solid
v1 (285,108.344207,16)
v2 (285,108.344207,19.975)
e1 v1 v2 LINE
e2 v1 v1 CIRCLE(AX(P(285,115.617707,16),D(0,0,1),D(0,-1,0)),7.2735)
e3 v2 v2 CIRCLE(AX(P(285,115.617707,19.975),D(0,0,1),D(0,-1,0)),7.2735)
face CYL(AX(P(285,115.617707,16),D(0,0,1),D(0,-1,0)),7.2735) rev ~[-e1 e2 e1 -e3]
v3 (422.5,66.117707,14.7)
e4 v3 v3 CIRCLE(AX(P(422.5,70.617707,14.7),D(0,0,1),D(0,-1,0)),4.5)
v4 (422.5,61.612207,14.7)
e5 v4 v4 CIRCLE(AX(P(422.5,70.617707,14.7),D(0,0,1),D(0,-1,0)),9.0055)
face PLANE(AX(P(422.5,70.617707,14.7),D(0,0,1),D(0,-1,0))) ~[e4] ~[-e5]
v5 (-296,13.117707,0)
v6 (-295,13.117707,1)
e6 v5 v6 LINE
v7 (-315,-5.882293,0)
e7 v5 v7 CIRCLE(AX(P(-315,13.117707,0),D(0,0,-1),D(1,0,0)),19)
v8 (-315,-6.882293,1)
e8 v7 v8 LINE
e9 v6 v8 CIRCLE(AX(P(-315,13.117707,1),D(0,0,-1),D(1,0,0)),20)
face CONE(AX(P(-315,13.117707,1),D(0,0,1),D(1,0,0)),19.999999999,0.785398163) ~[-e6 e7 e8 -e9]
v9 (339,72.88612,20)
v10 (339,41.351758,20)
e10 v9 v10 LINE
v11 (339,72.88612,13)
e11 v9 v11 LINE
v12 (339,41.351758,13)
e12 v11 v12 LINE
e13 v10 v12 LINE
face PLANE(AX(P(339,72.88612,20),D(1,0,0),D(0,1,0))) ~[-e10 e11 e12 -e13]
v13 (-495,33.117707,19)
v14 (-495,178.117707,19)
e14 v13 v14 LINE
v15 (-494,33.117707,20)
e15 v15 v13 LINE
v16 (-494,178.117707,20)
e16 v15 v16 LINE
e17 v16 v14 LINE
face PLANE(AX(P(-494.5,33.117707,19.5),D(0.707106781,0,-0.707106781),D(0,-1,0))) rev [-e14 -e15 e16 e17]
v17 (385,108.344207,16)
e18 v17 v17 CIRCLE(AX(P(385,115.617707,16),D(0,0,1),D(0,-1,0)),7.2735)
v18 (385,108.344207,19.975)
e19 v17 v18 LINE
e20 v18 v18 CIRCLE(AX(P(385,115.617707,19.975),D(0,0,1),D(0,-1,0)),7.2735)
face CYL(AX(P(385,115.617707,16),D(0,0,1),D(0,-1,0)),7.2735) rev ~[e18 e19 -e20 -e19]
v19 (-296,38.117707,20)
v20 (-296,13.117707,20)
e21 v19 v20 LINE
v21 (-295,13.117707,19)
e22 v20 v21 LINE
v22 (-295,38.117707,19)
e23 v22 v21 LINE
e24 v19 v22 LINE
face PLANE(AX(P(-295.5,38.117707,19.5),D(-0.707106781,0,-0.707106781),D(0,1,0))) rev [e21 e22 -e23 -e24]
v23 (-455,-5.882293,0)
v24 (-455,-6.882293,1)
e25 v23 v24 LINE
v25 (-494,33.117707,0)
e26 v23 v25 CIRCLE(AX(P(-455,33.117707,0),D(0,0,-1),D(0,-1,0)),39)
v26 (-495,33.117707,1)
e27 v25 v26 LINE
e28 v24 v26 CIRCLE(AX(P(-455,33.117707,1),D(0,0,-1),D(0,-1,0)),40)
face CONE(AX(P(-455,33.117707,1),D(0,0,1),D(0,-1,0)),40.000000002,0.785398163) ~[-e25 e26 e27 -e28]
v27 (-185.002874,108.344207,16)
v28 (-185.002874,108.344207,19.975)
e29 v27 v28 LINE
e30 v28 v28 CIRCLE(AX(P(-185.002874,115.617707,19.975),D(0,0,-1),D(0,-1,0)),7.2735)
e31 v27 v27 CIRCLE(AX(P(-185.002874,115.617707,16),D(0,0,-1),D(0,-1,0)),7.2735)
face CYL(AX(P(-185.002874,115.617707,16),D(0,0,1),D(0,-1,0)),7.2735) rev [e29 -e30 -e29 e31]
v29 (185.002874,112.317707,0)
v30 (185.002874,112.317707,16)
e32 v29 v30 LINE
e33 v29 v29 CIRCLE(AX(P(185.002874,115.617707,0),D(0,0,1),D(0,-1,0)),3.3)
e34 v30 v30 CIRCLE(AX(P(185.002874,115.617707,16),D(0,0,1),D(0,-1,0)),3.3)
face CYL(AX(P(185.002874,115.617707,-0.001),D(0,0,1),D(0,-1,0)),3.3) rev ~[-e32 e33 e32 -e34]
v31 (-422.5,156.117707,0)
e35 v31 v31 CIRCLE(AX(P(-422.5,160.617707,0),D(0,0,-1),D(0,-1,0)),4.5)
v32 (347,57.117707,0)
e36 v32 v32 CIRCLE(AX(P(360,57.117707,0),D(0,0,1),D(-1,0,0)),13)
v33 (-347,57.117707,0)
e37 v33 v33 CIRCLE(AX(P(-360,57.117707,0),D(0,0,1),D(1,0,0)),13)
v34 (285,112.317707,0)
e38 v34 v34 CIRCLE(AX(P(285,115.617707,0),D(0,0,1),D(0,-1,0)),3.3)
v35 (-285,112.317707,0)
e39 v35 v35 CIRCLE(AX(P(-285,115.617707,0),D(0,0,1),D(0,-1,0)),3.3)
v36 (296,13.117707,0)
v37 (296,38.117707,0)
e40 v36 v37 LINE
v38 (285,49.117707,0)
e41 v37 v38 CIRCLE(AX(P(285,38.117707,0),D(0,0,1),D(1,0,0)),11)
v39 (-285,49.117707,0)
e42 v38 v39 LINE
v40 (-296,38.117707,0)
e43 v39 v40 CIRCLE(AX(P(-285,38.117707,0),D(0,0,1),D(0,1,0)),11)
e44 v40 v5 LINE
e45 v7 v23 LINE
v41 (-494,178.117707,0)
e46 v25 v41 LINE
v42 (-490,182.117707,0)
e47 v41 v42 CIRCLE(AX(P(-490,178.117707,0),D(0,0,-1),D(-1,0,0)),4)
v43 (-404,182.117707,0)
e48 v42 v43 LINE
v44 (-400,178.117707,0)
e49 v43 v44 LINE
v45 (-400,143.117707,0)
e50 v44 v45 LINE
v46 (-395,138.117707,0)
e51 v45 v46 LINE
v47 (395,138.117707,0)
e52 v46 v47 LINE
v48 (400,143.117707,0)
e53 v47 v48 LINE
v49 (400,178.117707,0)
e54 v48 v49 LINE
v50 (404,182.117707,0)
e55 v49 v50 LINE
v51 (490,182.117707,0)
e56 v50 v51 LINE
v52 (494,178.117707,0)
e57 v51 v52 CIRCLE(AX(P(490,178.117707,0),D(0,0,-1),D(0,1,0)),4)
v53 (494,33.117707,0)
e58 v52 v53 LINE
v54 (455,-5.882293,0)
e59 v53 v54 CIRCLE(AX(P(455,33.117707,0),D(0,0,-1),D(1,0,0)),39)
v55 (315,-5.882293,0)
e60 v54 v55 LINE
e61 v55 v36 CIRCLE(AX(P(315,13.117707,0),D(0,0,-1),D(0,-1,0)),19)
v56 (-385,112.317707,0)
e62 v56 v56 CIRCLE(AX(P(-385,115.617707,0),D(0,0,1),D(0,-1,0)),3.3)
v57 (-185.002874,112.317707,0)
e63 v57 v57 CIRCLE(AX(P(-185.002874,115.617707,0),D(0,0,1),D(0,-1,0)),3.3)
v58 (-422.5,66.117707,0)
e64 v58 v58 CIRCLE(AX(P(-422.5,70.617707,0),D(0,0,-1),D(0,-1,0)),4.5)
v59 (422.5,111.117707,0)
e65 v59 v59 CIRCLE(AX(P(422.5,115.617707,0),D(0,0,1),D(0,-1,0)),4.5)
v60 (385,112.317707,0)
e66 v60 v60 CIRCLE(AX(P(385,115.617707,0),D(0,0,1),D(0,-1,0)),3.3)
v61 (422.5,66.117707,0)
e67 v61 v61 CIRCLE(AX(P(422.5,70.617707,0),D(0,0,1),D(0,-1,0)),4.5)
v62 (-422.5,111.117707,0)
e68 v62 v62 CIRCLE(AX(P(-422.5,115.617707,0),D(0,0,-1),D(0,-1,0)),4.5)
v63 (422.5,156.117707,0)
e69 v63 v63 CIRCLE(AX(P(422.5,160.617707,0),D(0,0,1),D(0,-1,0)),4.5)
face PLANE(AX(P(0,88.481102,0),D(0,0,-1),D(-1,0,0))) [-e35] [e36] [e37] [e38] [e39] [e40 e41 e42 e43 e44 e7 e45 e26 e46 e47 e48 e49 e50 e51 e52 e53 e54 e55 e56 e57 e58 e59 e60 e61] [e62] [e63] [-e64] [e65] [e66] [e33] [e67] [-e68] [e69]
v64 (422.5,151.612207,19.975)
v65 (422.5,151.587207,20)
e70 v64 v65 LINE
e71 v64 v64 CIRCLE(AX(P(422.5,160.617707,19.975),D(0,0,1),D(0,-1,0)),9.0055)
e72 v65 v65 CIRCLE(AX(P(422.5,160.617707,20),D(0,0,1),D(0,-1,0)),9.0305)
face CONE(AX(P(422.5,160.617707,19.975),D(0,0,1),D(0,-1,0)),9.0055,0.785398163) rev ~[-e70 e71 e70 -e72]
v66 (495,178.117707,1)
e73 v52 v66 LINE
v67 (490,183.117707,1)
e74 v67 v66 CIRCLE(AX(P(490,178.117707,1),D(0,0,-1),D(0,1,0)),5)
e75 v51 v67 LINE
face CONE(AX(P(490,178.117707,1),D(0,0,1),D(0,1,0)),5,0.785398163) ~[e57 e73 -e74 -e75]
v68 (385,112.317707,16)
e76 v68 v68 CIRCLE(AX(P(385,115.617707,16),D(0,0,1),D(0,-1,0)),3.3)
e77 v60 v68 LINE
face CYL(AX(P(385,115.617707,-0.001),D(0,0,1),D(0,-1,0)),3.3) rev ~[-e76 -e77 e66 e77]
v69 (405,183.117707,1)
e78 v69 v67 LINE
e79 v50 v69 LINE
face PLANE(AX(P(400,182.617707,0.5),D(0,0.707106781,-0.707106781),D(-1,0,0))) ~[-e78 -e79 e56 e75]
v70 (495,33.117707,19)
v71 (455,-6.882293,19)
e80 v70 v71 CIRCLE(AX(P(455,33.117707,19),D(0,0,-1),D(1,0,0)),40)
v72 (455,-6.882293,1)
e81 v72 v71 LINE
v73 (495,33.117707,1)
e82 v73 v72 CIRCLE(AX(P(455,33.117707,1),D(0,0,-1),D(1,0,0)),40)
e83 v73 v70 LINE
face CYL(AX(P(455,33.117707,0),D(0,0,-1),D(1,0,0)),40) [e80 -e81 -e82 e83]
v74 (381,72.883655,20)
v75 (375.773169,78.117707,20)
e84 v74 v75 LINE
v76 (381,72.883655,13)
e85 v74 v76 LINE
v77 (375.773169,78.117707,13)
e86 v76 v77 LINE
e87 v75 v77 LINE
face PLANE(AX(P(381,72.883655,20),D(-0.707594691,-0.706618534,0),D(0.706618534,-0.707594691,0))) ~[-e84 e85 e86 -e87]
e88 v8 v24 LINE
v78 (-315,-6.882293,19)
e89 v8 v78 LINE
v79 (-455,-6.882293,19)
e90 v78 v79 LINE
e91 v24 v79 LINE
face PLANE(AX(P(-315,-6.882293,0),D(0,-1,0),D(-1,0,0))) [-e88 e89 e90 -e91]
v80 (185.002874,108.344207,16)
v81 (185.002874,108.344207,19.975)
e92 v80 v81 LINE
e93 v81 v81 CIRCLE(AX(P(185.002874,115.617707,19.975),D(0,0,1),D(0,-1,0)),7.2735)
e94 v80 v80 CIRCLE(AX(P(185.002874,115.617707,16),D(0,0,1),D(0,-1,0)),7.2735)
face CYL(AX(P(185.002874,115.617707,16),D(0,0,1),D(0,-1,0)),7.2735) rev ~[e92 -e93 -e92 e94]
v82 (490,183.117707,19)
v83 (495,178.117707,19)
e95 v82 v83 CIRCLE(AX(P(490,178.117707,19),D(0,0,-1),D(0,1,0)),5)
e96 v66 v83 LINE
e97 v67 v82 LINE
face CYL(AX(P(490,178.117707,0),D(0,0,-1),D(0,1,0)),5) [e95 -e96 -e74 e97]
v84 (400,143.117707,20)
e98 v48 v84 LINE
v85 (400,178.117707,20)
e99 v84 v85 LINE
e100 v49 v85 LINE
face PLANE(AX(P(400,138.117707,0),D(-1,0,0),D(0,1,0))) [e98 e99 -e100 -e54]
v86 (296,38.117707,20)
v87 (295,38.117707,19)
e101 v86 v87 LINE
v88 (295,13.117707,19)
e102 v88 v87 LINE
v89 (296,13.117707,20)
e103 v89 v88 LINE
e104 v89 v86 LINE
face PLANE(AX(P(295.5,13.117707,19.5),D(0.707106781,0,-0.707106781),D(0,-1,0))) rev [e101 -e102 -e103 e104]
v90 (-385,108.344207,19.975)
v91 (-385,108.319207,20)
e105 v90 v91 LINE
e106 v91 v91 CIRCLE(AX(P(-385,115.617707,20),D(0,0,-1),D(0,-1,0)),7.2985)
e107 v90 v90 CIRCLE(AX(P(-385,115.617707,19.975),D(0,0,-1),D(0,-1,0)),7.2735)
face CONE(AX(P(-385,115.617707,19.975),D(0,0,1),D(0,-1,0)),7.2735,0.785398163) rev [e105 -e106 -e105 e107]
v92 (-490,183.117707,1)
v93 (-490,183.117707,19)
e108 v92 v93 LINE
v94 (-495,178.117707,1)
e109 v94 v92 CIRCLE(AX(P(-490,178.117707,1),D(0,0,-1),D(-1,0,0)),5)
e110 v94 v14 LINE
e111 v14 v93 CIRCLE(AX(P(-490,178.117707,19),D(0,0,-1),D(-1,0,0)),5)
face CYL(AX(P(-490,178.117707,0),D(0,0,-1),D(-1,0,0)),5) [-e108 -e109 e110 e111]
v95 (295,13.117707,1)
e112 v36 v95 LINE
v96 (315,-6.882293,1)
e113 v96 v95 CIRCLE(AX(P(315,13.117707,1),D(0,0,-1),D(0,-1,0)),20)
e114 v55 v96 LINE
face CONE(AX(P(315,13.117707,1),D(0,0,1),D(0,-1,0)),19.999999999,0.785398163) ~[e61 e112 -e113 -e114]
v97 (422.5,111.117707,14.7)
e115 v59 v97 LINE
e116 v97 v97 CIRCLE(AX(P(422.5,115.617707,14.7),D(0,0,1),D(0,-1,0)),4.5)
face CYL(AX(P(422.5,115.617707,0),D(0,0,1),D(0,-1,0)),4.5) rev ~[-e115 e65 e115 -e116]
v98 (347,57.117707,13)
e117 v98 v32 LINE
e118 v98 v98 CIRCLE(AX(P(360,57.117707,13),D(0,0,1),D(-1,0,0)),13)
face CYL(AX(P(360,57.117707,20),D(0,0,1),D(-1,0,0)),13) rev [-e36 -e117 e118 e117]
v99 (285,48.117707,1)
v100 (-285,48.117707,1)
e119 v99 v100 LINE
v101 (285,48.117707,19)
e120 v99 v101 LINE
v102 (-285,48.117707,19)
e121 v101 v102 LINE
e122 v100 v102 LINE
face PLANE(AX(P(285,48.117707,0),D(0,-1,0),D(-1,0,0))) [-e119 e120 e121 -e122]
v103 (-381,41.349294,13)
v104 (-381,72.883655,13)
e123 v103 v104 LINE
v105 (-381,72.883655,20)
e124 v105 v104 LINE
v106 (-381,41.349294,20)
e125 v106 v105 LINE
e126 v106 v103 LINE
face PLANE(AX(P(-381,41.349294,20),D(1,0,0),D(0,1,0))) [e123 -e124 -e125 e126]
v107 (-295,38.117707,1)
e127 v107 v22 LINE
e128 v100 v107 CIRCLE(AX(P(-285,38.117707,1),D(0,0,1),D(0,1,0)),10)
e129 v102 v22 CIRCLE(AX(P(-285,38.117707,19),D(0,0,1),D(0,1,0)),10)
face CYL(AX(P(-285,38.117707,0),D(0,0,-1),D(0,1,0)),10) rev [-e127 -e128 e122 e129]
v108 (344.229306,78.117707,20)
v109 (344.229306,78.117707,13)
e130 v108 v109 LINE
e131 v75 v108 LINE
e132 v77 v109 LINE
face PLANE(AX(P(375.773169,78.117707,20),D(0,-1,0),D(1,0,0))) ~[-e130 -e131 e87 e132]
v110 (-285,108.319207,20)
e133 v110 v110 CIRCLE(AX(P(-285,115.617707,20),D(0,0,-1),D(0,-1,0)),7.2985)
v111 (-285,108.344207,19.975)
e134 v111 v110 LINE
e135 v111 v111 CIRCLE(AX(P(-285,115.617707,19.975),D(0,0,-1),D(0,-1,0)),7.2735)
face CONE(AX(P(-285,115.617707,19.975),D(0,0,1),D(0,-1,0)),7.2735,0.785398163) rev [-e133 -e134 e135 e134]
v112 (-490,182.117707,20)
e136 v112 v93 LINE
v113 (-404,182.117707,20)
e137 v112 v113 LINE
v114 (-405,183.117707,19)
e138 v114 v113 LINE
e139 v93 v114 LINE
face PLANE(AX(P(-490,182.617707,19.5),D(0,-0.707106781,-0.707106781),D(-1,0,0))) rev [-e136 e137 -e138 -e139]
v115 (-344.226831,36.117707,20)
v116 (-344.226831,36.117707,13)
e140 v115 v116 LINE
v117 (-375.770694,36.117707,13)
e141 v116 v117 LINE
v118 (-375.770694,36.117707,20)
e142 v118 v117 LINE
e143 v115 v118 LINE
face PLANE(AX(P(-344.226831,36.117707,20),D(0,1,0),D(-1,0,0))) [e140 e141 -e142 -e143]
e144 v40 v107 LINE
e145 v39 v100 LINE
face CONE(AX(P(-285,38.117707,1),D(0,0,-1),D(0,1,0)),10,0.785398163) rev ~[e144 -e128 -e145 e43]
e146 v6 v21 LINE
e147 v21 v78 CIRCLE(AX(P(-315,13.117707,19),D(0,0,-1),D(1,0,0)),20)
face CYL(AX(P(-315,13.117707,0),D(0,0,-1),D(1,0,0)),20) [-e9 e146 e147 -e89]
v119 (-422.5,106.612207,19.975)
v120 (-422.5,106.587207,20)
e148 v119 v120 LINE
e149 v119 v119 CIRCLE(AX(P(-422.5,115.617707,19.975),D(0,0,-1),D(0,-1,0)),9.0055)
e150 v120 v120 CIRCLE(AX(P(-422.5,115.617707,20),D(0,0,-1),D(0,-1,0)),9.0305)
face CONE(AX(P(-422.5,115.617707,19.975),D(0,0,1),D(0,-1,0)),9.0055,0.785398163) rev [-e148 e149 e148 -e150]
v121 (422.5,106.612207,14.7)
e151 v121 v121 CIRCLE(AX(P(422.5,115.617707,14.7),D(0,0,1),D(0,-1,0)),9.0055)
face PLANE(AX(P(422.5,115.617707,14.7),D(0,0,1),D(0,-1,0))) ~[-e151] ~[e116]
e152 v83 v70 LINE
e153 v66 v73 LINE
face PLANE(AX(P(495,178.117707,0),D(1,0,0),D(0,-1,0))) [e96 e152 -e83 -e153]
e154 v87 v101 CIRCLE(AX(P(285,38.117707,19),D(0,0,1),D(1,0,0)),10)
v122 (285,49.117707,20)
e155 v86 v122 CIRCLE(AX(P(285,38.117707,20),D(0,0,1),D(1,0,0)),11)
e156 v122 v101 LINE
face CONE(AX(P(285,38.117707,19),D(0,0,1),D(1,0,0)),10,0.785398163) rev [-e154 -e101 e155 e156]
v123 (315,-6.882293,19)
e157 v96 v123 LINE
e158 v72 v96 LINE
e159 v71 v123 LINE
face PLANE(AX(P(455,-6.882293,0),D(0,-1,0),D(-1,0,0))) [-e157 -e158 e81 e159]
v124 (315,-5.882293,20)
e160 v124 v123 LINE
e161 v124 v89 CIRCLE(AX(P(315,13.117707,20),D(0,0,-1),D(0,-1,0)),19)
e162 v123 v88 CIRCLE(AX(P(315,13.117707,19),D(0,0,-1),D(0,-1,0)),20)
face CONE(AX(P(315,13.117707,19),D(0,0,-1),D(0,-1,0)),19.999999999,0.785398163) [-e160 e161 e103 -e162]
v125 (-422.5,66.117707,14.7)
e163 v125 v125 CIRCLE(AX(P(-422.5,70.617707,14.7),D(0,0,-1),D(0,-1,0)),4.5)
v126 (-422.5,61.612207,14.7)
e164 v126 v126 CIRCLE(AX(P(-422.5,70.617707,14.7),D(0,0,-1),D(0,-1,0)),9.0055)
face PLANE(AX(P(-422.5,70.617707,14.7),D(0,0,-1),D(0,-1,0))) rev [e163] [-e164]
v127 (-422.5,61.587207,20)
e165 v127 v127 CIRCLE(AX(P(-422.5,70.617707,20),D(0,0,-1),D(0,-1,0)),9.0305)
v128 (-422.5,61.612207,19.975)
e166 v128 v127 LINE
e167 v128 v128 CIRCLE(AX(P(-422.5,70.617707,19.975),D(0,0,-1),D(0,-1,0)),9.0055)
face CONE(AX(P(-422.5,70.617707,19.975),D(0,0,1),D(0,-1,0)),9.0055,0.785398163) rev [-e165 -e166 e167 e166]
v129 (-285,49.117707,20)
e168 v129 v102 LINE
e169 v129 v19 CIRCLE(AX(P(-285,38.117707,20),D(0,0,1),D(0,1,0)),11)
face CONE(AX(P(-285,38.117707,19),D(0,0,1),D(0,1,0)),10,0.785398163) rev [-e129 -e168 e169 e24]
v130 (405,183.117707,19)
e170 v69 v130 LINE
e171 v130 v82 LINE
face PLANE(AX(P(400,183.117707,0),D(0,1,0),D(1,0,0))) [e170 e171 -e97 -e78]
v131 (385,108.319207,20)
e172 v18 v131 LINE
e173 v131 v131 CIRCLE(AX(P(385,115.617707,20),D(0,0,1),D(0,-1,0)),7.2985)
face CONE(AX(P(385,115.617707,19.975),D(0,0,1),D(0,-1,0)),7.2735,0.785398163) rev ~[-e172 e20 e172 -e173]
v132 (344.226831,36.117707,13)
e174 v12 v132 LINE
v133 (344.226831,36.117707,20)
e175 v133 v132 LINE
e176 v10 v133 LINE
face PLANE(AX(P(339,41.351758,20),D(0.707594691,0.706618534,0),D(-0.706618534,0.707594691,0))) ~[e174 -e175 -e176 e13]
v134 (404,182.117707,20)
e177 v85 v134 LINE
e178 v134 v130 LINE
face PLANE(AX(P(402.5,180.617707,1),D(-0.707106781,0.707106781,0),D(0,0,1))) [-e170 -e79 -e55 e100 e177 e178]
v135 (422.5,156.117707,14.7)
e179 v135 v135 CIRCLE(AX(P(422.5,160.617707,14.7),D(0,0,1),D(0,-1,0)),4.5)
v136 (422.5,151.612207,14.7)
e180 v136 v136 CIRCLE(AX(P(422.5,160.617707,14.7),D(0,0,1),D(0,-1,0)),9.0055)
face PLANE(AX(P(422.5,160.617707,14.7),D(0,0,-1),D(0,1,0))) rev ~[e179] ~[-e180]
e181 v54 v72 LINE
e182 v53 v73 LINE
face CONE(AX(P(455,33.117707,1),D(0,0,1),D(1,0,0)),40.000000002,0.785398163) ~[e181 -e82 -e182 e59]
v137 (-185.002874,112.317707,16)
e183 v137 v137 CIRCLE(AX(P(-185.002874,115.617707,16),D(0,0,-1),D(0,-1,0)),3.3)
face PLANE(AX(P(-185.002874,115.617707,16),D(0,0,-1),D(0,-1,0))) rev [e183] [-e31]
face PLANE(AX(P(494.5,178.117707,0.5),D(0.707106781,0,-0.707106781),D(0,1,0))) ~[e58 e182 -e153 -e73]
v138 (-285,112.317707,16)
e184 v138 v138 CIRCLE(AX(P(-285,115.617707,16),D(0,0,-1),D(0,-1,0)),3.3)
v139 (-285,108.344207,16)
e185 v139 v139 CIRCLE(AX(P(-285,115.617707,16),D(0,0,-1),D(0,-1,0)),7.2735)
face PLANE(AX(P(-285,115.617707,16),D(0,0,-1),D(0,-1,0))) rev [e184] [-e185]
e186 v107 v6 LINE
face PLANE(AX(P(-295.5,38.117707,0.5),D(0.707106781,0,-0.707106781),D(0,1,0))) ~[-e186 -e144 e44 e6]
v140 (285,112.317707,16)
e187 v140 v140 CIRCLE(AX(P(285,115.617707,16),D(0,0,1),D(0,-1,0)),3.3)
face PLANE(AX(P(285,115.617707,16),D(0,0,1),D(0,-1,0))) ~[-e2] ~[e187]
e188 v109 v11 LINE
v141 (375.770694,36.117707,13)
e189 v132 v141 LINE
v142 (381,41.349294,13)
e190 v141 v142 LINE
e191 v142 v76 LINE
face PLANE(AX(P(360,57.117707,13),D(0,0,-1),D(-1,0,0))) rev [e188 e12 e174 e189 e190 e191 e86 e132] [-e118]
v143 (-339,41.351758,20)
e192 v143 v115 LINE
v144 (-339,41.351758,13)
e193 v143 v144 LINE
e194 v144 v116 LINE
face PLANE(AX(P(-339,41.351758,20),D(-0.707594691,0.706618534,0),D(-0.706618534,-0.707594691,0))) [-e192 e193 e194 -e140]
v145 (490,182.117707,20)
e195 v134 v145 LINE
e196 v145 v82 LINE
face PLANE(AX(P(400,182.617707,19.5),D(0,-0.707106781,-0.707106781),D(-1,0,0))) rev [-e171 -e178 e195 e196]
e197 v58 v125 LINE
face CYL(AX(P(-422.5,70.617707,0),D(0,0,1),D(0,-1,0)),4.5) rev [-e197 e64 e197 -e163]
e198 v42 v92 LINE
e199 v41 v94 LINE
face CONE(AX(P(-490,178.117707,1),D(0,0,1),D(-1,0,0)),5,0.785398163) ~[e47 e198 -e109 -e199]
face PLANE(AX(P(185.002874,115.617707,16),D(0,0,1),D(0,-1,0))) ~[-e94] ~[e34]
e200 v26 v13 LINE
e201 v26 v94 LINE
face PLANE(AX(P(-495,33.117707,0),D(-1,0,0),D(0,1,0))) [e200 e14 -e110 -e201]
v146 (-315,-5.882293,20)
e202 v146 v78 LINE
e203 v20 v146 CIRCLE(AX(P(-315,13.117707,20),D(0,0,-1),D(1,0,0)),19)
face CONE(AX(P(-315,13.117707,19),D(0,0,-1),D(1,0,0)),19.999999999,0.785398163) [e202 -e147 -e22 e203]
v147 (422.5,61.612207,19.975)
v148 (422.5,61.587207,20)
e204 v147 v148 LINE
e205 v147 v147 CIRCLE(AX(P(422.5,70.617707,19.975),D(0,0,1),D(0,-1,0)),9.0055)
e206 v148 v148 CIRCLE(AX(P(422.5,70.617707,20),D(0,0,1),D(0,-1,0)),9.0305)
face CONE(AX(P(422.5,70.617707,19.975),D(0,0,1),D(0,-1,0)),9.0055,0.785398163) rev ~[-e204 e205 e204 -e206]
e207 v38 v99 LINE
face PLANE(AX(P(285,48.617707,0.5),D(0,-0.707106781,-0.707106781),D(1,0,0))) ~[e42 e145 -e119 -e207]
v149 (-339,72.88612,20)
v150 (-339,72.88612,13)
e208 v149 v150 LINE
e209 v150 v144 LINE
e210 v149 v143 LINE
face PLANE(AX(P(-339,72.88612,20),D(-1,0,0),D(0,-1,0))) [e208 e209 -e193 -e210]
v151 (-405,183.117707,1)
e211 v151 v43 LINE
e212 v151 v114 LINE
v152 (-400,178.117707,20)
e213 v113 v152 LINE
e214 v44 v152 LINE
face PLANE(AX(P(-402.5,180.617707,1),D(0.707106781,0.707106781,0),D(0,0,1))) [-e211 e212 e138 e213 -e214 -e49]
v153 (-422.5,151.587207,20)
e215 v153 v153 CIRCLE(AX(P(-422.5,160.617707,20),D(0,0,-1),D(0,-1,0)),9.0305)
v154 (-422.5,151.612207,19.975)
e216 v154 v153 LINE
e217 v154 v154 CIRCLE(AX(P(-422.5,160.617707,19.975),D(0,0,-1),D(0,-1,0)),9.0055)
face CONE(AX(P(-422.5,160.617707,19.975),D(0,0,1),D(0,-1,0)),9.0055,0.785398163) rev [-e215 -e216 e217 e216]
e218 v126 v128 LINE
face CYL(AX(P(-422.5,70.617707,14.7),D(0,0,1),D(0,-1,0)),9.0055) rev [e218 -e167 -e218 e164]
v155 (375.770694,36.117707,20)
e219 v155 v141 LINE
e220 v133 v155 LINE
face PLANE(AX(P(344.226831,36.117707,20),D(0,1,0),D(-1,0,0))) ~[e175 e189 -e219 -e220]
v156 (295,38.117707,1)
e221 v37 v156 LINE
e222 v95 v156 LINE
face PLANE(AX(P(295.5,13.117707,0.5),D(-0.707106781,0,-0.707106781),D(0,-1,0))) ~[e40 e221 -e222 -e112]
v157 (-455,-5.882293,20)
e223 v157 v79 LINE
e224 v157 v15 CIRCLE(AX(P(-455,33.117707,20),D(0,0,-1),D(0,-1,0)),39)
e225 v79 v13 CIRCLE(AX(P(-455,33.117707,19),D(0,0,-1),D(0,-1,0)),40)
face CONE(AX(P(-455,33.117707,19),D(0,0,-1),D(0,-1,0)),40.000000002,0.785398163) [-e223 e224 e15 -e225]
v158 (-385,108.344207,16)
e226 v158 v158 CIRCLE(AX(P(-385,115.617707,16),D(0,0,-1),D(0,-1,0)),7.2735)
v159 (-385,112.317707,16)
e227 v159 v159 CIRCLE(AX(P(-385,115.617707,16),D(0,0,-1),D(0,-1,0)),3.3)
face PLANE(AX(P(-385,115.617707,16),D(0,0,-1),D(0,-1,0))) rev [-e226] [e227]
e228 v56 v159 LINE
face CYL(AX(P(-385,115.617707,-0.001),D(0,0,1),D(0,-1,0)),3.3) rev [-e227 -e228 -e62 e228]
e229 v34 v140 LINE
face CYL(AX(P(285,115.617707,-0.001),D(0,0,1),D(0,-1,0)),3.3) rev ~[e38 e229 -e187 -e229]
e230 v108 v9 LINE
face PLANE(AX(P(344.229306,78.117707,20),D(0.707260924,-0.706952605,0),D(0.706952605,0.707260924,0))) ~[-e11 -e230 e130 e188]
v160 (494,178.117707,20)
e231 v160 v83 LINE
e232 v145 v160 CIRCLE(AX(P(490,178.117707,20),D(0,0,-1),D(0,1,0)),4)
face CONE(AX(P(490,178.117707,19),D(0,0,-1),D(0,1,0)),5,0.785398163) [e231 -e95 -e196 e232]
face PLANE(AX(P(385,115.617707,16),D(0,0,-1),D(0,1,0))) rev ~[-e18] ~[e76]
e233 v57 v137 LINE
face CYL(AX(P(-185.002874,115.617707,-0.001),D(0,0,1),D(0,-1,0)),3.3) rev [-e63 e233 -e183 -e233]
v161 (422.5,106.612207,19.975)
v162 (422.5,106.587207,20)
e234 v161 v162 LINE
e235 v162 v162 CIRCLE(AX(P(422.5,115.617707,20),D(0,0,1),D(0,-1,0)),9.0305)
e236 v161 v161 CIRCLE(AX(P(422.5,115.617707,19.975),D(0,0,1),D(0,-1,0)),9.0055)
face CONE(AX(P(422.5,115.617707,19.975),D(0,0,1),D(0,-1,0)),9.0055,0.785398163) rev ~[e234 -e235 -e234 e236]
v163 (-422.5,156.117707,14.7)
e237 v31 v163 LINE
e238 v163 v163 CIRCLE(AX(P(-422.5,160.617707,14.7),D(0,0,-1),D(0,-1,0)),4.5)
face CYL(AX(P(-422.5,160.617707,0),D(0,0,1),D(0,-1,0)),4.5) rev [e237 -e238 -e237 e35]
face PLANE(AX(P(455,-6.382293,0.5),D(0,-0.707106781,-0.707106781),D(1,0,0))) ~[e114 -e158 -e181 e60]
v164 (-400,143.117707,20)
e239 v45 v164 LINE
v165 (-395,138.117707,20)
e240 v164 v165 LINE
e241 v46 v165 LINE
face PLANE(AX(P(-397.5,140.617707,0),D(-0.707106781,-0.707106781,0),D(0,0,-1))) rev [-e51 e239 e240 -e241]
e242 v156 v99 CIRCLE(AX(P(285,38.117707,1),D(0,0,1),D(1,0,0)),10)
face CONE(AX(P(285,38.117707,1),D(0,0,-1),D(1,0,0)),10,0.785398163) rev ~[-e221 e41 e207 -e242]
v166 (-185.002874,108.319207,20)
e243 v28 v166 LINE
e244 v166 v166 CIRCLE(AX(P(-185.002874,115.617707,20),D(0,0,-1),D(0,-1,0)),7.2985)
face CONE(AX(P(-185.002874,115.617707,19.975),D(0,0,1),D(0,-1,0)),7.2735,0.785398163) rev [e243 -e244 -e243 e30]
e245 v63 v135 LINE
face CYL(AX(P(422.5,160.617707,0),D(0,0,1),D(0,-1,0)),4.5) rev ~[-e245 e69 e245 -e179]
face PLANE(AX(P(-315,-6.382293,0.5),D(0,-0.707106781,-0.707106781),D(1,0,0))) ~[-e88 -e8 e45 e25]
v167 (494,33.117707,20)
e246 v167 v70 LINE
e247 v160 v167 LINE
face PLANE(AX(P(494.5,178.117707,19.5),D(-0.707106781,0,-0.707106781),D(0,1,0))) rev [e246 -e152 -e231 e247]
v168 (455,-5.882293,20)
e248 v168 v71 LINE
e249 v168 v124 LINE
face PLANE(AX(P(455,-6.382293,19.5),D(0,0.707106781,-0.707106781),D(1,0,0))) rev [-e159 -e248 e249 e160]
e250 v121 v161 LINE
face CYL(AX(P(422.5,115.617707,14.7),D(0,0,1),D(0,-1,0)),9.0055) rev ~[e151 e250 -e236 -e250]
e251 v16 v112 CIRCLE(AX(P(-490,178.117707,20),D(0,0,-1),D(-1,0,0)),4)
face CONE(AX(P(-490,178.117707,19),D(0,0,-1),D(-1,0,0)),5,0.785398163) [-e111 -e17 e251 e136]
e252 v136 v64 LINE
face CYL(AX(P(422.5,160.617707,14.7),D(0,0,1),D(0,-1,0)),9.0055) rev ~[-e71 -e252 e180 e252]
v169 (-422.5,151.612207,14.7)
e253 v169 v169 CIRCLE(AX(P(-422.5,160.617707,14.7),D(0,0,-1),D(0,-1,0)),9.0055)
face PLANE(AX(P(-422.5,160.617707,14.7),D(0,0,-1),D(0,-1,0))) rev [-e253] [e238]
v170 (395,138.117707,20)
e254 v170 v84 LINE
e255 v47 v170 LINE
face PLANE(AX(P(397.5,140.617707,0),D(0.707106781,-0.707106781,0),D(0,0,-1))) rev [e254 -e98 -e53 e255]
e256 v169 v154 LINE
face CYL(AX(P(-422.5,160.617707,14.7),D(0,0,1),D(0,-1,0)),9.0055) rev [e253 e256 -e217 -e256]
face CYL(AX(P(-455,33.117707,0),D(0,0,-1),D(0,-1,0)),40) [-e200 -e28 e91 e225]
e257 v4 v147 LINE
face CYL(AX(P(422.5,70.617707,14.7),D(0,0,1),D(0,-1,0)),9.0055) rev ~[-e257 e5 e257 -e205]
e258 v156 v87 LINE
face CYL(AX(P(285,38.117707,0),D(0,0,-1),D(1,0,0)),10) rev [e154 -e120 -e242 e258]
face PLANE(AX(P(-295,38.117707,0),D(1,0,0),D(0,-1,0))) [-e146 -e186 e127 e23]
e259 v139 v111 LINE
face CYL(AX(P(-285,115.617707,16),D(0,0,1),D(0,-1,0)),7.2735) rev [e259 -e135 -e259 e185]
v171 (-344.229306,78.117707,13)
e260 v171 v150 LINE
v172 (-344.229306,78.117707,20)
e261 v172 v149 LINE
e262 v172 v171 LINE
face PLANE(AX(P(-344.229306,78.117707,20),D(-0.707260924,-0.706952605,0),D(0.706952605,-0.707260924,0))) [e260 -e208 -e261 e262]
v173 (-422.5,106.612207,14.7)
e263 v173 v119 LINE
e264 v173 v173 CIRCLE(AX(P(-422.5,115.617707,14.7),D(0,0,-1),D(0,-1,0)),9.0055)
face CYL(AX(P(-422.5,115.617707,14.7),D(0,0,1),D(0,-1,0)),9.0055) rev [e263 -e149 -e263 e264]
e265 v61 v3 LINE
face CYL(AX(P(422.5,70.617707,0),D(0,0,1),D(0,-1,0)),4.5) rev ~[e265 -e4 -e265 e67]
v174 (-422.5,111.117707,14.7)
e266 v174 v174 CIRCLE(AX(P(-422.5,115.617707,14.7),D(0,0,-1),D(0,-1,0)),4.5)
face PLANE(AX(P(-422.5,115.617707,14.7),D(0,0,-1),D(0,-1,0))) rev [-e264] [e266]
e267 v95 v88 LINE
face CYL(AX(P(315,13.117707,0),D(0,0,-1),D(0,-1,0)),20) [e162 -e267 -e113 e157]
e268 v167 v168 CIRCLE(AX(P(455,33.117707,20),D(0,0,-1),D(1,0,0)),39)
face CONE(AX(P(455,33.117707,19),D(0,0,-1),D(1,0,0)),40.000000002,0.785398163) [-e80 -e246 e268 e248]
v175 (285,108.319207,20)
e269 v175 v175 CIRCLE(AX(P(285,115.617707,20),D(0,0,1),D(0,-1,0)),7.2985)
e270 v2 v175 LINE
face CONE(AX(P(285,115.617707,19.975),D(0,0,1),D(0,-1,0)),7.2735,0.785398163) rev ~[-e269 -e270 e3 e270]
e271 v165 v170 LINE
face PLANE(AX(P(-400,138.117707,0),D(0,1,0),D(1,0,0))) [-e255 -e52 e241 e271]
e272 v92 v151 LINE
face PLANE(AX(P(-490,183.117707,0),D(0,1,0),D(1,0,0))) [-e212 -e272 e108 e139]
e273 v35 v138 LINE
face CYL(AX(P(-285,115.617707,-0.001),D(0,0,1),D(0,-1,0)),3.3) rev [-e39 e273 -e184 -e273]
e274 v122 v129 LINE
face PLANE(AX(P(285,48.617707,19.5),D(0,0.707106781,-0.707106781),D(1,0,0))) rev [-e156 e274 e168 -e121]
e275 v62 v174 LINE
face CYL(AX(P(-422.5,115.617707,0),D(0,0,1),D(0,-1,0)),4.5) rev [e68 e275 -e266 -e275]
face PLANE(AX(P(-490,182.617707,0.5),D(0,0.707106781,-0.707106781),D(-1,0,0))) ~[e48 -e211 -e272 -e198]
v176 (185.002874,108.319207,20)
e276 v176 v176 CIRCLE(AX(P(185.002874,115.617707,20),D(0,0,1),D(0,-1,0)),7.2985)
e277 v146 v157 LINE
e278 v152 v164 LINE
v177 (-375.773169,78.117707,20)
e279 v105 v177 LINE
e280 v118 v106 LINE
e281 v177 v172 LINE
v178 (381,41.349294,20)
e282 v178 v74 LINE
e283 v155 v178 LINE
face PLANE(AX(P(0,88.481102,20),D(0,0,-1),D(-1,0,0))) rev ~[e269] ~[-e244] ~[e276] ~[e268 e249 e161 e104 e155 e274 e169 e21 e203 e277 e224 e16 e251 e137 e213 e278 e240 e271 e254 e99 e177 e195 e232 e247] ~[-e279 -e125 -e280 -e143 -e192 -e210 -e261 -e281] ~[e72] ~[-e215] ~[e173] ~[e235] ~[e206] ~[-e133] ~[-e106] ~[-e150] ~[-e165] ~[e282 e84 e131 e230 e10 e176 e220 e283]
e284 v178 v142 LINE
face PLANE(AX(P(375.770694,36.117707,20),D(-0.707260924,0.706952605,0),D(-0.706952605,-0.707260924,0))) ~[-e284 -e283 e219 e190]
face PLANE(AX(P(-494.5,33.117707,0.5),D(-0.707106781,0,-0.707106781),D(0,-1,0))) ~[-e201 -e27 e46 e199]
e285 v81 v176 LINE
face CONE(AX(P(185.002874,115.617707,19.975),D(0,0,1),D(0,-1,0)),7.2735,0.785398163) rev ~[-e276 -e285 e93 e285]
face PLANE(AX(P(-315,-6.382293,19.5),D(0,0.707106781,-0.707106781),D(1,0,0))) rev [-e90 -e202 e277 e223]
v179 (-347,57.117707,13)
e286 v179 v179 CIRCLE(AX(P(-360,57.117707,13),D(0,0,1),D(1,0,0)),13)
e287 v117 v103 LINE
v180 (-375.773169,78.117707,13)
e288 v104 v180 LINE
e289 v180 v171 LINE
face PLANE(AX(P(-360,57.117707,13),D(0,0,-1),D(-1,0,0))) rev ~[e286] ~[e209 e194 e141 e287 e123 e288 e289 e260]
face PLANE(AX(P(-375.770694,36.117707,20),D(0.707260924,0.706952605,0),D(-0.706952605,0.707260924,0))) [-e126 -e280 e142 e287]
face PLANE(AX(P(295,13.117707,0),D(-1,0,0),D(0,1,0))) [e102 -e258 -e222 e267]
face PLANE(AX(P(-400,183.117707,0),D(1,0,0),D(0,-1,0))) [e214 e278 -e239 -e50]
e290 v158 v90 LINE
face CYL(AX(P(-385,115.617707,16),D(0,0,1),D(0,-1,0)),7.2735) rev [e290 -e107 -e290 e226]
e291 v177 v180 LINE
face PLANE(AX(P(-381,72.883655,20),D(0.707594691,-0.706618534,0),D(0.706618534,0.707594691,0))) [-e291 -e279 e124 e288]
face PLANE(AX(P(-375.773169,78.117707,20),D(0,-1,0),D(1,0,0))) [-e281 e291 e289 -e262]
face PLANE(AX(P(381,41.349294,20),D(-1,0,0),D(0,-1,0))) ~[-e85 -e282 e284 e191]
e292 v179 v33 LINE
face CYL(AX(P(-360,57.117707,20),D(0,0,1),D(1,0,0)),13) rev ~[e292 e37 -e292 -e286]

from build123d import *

# Parameters (mm, degrees)
BOSS_EXTRUDE1_DEPTH                    = 20
CBORE_FOR_M8_HEX_HEAD_BOLT1_AT_2_COUNT = 2
CBORE_FOR_M8_HEX_HEAD_BOLT1_AT_2_PITCH = 45
CBORE_FOR_M8_HEX_HEAD_BOLT1_AT_3_COUNT = 2
CBORE_FOR_M8_HEX_HEAD_BOLT1_AT_3_PITCH = 1307.399809271
CBORE_FOR_M8_HEX_HEAD_BOLT1_AT_4_COUNT = 2
CBORE_FOR_M8_HEX_HEAD_BOLT1_AT_4_PITCH = 90
CBORE_FOR_M6_HEX_HEAD_BOLT1_AT_2_COUNT = 2
CBORE_FOR_M6_HEX_HEAD_BOLT1_AT_2_PITCH = 100
CBORE_FOR_M6_HEX_HEAD_BOLT1_AT_3_COUNT = 2
CBORE_FOR_M6_HEX_HEAD_BOLT1_AT_3_PITCH = 199.997125624
CHAMFER1_SIZE                          = 1
CHAMFER2_SIZE                          = 1
CUT_EXTRUDE14_DEPTH                    = 7
SKETCH49_R                             = 13
CUT_EXTRUDE15_DEPTH                    = 529.16388983
FILLET1_SIZE                           = 5


with BuildPart() as part:
    # Sketch1 → Boss-Extrude1 (new body)
    with BuildSketch(Plane.XY):
        with BuildLine():
            Line((-495, 33.117706736), (-495, 178.117706736))
            ThreePointArc((-495, 178.117706736), (-493.535533906, 181.653240642), (-490, 183.117706736))
            Line((-490, 183.117706736), (-400, 183.117706736))
            Line((-400, 183.117706736), (-400, 138.117706736))
            Line((-400, 138.117706736), (0, 138.117706736))
            Line((0, 138.117706736), (400, 138.117706736))
            Line((400, 138.117706736), (400, 183.117706736))
            Line((400, 183.117706736), (490, 183.117706736))
            ThreePointArc((490, 183.117706736), (493.535533906, 181.653240642), (495, 178.117706736))
            Line((495, 178.117706736), (495, 33.117706736))
            ThreePointArc((495, 33.117706736), (483.284271247, 4.833435489), (455, -6.882293264))
            Line((455, -6.882293264), (315, -6.882293264))
            ThreePointArc((315, -6.882293264), (300.857864376, -1.024428888), (295, 13.117706736))
            Line((295, 13.117706736), (295, 38.117706736))
            ThreePointArc((295, 38.117706736), (292.071067812, 45.188774548), (285, 48.117706736))
            Line((285, 48.117706736), (-285, 48.117706736))
            ThreePointArc((-285, 48.117706736), (-292.071067812, 45.188774548), (-295, 38.117706736))
            Line((-295, 38.117706736), (-295, 13.117706736))
            ThreePointArc((-295, 13.117706736), (-300.857864376, -1.024428888), (-315, -6.882293264))
            Line((-315, -6.882293264), (-455, -6.882293264))
            ThreePointArc((-455, -6.882293264), (-483.284271247, 4.833435489), (-495, 33.117706736))
        make_face()
    extrude(amount=BOSS_EXTRUDE1_DEPTH)

    # Sketch6 → CBORE for M8 Hex Head Bolt1 (revolve, cut)
    with BuildSketch(Plane(origin=(-422.5, 160.617706736, 20), x_dir=(0, -1, 0), z_dir=(1, 0, 0))):
        Polygon((0, 0), (0, 20), (4.5, 20), (4.5, 5.3), (9.0055, 5.3), (9.0055, 0.025), (9.0305, 0), align=None)
    cbore_for_m8_hex_head_bolt1 = revolve(axis=Axis((-422.5, 160.617706736, 26.35), (0, 0, -1)), mode=Mode.SUBTRACT)

    # CBORE for M8 Hex Head Bolt1 at 2: CBORE for M8 Hex Head Bolt1 ×2
    with Locations(*[(0, -i * CBORE_FOR_M8_HEX_HEAD_BOLT1_AT_2_PITCH, 0) for i in range(1, CBORE_FOR_M8_HEX_HEAD_BOLT1_AT_2_COUNT)]):
        add(cbore_for_m8_hex_head_bolt1, mode=Mode.SUBTRACT)

    # CBORE for M8 Hex Head Bolt1 at 3: CBORE for M8 Hex Head Bolt1 ×2
    with Locations(*[Vector(-0.7034023303245859, 0.710791925737724, 0) * (i * CBORE_FOR_M8_HEX_HEAD_BOLT1_AT_3_PITCH) for i in range(1, CBORE_FOR_M8_HEX_HEAD_BOLT1_AT_3_COUNT)]):
        add(cbore_for_m8_hex_head_bolt1, mode=Mode.SUBTRACT)

    # CBORE for M8 Hex Head Bolt1 at 4: CBORE for M8 Hex Head Bolt1 ×2
    with Locations(*[(0, -i * CBORE_FOR_M8_HEX_HEAD_BOLT1_AT_4_PITCH, 0) for i in range(1, CBORE_FOR_M8_HEX_HEAD_BOLT1_AT_4_COUNT)]):
        add(cbore_for_m8_hex_head_bolt1, mode=Mode.SUBTRACT)

    # Mirror1: CBORE for M8 Hex Head Bolt1 across plane
    add(cbore_for_m8_hex_head_bolt1.mirror(Plane(origin=(0, 0, 0), x_dir=(0, 0, 1), z_dir=(1, 0, 0))), mode=Mode.SUBTRACT)

    # Mirror1 copy 1 sketch → Mirror1 copy 1 (revolve, cut)
    with BuildSketch(Plane(origin=(422.5, 115.617706736, 20), x_dir=(0, -1, 0), z_dir=(-1, 0, 0))):
        Polygon((0, 0), (0, -20), (4.5, -20), (4.5, -5.3), (9.0055, -5.3), (9.0055, -0.025), (9.0305, 0), align=None)
    revolve(axis=Axis((422.5, 115.617706736, 26.35), (0, 0, 1)), mode=Mode.SUBTRACT)

    # Mirror1 copy 2 sketch → Mirror1 copy 2 (revolve, cut)
    with BuildSketch(Plane(origin=(1342.128072507, 1089.906934877, 20), x_dir=(0, -1, 0), z_dir=(-1, 0, 0))):
        Polygon((0, 0), (0, -20), (4.5, -20), (4.5, -5.3), (9.0055, -5.3), (9.0055, -0.025), (9.0305, 0), align=None)
    revolve(axis=Axis((1342.128072507, 1089.906934877, 26.35), (0, 0, 1)), mode=Mode.SUBTRACT)

    # Mirror1 copy 3 sketch → Mirror1 copy 3 (revolve, cut)
    with BuildSketch(Plane(origin=(422.5, 70.617706736, 20), x_dir=(0, -1, 0), z_dir=(-1, 0, 0))):
        Polygon((0, 0), (0, -20), (4.5, -20), (4.5, -5.3), (9.0055, -5.3), (9.0055, -0.025), (9.0305, 0), align=None)
    revolve(axis=Axis((422.5, 70.617706736, 26.35), (0, 0, 1)), mode=Mode.SUBTRACT)

    # Sketch8 → CBORE for M6 Hex Head Bolt1 (revolve, cut)
    with BuildSketch(Plane(origin=(-385, 115.617706736, 20), x_dir=(0, -1, 0), z_dir=(1, 0, 0))):
        Polygon((0, 0), (0, 20.001), (3.3, 20.001), (3.3, 4), (7.2735, 4), (7.2735, 0.025), (7.2985, 0), align=None)
    cbore_for_m6_hex_head_bolt1 = revolve(axis=Axis((-385, 115.617706736, 26.35), (0, 0, -1)), mode=Mode.SUBTRACT)

    # CBORE for M6 Hex Head Bolt1 at 2: CBORE for M6 Hex Head Bolt1 ×2
    with Locations(*[(i * CBORE_FOR_M6_HEX_HEAD_BOLT1_AT_2_PITCH, 0, 0) for i in range(1, CBORE_FOR_M6_HEX_HEAD_BOLT1_AT_2_COUNT)]):
        add(cbore_for_m6_hex_head_bolt1, mode=Mode.SUBTRACT)

    # CBORE for M6 Hex Head Bolt1 at 3: CBORE for M6 Hex Head Bolt1 ×2
    with Locations(*[(i * CBORE_FOR_M6_HEX_HEAD_BOLT1_AT_3_PITCH, 0, 0) for i in range(1, CBORE_FOR_M6_HEX_HEAD_BOLT1_AT_3_COUNT)]):
        add(cbore_for_m6_hex_head_bolt1, mode=Mode.SUBTRACT)

    # Mirror2: CBORE for M6 Hex Head Bolt1 across plane
    add(cbore_for_m6_hex_head_bolt1.mirror(Plane(origin=(0, 0, 0), x_dir=(0, 0, 1), z_dir=(1, 0, 0))), mode=Mode.SUBTRACT)

    # Mirror2 copy 1 sketch → Mirror2 copy 1 (revolve, cut)
    with BuildSketch(Plane(origin=(285, 115.617706736, 20), x_dir=(0, -1, 0), z_dir=(-1, 0, 0))):
        Polygon((0, 0), (0, -20.001), (3.3, -20.001), (3.3, -4), (7.2735, -4), (7.2735, -0.025), (7.2985, 0), align=None)
    revolve(axis=Axis((285, 115.617706736, 26.35), (0, 0, 1)), mode=Mode.SUBTRACT)

    # Mirror2 copy 2 sketch → Mirror2 copy 2 (revolve, cut)
    with BuildSketch(Plane(origin=(185.002874376, 115.617706736, 20), x_dir=(0, -1, 0), z_dir=(-1, 0, 0))):
        Polygon((0, 0), (0, -20.001), (3.3, -20.001), (3.3, -4), (7.2735, -4), (7.2735, -0.025), (7.2985, 0), align=None)
    revolve(axis=Axis((185.002874376, 115.617706736, 26.35), (0, 0, 1)), mode=Mode.SUBTRACT)

    # Chamfer1
    chamfer1_edges = [part.edges().sort_by_distance(p)[0] for p in [
        (292.071067812, 45.188774548, 20),
        (295, 25.617706736, 20),
        (300.857864376, -1.024428888, 20),
        (385, -6.882293264, 20),
        (483.284271247, 4.833435489, 20),
        (495, 105.617706736, 20),
        (493.535533906, 181.653240642, 20),
        (445, 183.117706736, 20),
        (-292.071067812, 45.188774548, 20),
        (-445, 183.117706736, 20),
        (-493.535533906, 181.653240642, 20),
        (-495, 105.617706736, 20),
        (-483.284271247, 4.833435489, 20),
        (-385, -6.882293264, 20),
        (-300.857864376, -1.024428888, 20),
        (-295, 25.617706736, 20),
        (0, 48.117706736, 20),
    ]]
    chamfer(chamfer1_edges, length=CHAMFER1_SIZE)

    # Chamfer2
    chamfer2_edges = [part.edges().sort_by_distance(p)[0] for p in [
        (-295, 25.617706736, 0),
        (-300.857864376, -1.024428888, 0),
        (-385, -6.882293264, 0),
        (-483.284271247, 4.833435489, 0),
        (-495, 105.617706736, 0),
        (-493.535533906, 181.653240642, 0),
        (-445, 183.117706736, 0),
        (445, 183.117706736, 0),
        (493.535533906, 181.653240642, 0),
        (495, 105.617706736, 0),
        (483.284271247, 4.833435489, 0),
        (385, -6.882293264, 0),
        (300.857864376, -1.024428888, 0),
        (295, 25.617706736, 0),
        (292.071067812, 45.188774548, 0),
        (0, 48.117706736, 0),
        (-292.071067812, 45.188774548, 0),
    ]]
    chamfer(chamfer2_edges, length=CHAMFER2_SIZE)

    # Sketch16 → Cut-Extrude14 (cut)
    with BuildSketch(Plane.XY.offset(20)):
        Polygon((-375.773169187, 78.117706736), (-344.229306438, 78.117706736), (-339, 72.886119668), (-339, 41.351758145), (-344.226830813, 36.117706736), (-375.770693562, 36.117706736), (-381, 41.349293804), (-381, 72.883655327), align=None)
    cut_extrude14 = extrude(amount=-CUT_EXTRUDE14_DEPTH, mode=Mode.SUBTRACT)

    # Sketch49 → Cut-Extrude15 (cut, through all)
    with BuildSketch(Plane.XY.offset(20)):
        with Locations((-360, 57.117706736)):
            Circle(SKETCH49_R)
    cut_extrude15 = extrude(amount=-CUT_EXTRUDE15_DEPTH, mode=Mode.SUBTRACT)

    # Mirror3: Cut-Extrude14, Cut-Extrude15 across plane
    add(cut_extrude14.mirror(Plane(origin=(0, 0, 0), x_dir=(0, 0, 1), z_dir=(1, 0, 0))), mode=Mode.SUBTRACT)
    add(cut_extrude15.mirror(Plane(origin=(0, 0, 0), x_dir=(0, 0, 1), z_dir=(1, 0, 0))), mode=Mode.SUBTRACT)

    # Fillet1
    fillet1_edges = [part.edges().sort_by_distance(p)[0] for p in [
        (-400, 138.117706736, 10),
        (-400, 183.117706736, 10),
        (400, 183.117706736, 10),
        (400, 138.117706736, 10),
    ]]
    chamfer(fillet1_edges, length=FILLET1_SIZE)


solid = part.part
